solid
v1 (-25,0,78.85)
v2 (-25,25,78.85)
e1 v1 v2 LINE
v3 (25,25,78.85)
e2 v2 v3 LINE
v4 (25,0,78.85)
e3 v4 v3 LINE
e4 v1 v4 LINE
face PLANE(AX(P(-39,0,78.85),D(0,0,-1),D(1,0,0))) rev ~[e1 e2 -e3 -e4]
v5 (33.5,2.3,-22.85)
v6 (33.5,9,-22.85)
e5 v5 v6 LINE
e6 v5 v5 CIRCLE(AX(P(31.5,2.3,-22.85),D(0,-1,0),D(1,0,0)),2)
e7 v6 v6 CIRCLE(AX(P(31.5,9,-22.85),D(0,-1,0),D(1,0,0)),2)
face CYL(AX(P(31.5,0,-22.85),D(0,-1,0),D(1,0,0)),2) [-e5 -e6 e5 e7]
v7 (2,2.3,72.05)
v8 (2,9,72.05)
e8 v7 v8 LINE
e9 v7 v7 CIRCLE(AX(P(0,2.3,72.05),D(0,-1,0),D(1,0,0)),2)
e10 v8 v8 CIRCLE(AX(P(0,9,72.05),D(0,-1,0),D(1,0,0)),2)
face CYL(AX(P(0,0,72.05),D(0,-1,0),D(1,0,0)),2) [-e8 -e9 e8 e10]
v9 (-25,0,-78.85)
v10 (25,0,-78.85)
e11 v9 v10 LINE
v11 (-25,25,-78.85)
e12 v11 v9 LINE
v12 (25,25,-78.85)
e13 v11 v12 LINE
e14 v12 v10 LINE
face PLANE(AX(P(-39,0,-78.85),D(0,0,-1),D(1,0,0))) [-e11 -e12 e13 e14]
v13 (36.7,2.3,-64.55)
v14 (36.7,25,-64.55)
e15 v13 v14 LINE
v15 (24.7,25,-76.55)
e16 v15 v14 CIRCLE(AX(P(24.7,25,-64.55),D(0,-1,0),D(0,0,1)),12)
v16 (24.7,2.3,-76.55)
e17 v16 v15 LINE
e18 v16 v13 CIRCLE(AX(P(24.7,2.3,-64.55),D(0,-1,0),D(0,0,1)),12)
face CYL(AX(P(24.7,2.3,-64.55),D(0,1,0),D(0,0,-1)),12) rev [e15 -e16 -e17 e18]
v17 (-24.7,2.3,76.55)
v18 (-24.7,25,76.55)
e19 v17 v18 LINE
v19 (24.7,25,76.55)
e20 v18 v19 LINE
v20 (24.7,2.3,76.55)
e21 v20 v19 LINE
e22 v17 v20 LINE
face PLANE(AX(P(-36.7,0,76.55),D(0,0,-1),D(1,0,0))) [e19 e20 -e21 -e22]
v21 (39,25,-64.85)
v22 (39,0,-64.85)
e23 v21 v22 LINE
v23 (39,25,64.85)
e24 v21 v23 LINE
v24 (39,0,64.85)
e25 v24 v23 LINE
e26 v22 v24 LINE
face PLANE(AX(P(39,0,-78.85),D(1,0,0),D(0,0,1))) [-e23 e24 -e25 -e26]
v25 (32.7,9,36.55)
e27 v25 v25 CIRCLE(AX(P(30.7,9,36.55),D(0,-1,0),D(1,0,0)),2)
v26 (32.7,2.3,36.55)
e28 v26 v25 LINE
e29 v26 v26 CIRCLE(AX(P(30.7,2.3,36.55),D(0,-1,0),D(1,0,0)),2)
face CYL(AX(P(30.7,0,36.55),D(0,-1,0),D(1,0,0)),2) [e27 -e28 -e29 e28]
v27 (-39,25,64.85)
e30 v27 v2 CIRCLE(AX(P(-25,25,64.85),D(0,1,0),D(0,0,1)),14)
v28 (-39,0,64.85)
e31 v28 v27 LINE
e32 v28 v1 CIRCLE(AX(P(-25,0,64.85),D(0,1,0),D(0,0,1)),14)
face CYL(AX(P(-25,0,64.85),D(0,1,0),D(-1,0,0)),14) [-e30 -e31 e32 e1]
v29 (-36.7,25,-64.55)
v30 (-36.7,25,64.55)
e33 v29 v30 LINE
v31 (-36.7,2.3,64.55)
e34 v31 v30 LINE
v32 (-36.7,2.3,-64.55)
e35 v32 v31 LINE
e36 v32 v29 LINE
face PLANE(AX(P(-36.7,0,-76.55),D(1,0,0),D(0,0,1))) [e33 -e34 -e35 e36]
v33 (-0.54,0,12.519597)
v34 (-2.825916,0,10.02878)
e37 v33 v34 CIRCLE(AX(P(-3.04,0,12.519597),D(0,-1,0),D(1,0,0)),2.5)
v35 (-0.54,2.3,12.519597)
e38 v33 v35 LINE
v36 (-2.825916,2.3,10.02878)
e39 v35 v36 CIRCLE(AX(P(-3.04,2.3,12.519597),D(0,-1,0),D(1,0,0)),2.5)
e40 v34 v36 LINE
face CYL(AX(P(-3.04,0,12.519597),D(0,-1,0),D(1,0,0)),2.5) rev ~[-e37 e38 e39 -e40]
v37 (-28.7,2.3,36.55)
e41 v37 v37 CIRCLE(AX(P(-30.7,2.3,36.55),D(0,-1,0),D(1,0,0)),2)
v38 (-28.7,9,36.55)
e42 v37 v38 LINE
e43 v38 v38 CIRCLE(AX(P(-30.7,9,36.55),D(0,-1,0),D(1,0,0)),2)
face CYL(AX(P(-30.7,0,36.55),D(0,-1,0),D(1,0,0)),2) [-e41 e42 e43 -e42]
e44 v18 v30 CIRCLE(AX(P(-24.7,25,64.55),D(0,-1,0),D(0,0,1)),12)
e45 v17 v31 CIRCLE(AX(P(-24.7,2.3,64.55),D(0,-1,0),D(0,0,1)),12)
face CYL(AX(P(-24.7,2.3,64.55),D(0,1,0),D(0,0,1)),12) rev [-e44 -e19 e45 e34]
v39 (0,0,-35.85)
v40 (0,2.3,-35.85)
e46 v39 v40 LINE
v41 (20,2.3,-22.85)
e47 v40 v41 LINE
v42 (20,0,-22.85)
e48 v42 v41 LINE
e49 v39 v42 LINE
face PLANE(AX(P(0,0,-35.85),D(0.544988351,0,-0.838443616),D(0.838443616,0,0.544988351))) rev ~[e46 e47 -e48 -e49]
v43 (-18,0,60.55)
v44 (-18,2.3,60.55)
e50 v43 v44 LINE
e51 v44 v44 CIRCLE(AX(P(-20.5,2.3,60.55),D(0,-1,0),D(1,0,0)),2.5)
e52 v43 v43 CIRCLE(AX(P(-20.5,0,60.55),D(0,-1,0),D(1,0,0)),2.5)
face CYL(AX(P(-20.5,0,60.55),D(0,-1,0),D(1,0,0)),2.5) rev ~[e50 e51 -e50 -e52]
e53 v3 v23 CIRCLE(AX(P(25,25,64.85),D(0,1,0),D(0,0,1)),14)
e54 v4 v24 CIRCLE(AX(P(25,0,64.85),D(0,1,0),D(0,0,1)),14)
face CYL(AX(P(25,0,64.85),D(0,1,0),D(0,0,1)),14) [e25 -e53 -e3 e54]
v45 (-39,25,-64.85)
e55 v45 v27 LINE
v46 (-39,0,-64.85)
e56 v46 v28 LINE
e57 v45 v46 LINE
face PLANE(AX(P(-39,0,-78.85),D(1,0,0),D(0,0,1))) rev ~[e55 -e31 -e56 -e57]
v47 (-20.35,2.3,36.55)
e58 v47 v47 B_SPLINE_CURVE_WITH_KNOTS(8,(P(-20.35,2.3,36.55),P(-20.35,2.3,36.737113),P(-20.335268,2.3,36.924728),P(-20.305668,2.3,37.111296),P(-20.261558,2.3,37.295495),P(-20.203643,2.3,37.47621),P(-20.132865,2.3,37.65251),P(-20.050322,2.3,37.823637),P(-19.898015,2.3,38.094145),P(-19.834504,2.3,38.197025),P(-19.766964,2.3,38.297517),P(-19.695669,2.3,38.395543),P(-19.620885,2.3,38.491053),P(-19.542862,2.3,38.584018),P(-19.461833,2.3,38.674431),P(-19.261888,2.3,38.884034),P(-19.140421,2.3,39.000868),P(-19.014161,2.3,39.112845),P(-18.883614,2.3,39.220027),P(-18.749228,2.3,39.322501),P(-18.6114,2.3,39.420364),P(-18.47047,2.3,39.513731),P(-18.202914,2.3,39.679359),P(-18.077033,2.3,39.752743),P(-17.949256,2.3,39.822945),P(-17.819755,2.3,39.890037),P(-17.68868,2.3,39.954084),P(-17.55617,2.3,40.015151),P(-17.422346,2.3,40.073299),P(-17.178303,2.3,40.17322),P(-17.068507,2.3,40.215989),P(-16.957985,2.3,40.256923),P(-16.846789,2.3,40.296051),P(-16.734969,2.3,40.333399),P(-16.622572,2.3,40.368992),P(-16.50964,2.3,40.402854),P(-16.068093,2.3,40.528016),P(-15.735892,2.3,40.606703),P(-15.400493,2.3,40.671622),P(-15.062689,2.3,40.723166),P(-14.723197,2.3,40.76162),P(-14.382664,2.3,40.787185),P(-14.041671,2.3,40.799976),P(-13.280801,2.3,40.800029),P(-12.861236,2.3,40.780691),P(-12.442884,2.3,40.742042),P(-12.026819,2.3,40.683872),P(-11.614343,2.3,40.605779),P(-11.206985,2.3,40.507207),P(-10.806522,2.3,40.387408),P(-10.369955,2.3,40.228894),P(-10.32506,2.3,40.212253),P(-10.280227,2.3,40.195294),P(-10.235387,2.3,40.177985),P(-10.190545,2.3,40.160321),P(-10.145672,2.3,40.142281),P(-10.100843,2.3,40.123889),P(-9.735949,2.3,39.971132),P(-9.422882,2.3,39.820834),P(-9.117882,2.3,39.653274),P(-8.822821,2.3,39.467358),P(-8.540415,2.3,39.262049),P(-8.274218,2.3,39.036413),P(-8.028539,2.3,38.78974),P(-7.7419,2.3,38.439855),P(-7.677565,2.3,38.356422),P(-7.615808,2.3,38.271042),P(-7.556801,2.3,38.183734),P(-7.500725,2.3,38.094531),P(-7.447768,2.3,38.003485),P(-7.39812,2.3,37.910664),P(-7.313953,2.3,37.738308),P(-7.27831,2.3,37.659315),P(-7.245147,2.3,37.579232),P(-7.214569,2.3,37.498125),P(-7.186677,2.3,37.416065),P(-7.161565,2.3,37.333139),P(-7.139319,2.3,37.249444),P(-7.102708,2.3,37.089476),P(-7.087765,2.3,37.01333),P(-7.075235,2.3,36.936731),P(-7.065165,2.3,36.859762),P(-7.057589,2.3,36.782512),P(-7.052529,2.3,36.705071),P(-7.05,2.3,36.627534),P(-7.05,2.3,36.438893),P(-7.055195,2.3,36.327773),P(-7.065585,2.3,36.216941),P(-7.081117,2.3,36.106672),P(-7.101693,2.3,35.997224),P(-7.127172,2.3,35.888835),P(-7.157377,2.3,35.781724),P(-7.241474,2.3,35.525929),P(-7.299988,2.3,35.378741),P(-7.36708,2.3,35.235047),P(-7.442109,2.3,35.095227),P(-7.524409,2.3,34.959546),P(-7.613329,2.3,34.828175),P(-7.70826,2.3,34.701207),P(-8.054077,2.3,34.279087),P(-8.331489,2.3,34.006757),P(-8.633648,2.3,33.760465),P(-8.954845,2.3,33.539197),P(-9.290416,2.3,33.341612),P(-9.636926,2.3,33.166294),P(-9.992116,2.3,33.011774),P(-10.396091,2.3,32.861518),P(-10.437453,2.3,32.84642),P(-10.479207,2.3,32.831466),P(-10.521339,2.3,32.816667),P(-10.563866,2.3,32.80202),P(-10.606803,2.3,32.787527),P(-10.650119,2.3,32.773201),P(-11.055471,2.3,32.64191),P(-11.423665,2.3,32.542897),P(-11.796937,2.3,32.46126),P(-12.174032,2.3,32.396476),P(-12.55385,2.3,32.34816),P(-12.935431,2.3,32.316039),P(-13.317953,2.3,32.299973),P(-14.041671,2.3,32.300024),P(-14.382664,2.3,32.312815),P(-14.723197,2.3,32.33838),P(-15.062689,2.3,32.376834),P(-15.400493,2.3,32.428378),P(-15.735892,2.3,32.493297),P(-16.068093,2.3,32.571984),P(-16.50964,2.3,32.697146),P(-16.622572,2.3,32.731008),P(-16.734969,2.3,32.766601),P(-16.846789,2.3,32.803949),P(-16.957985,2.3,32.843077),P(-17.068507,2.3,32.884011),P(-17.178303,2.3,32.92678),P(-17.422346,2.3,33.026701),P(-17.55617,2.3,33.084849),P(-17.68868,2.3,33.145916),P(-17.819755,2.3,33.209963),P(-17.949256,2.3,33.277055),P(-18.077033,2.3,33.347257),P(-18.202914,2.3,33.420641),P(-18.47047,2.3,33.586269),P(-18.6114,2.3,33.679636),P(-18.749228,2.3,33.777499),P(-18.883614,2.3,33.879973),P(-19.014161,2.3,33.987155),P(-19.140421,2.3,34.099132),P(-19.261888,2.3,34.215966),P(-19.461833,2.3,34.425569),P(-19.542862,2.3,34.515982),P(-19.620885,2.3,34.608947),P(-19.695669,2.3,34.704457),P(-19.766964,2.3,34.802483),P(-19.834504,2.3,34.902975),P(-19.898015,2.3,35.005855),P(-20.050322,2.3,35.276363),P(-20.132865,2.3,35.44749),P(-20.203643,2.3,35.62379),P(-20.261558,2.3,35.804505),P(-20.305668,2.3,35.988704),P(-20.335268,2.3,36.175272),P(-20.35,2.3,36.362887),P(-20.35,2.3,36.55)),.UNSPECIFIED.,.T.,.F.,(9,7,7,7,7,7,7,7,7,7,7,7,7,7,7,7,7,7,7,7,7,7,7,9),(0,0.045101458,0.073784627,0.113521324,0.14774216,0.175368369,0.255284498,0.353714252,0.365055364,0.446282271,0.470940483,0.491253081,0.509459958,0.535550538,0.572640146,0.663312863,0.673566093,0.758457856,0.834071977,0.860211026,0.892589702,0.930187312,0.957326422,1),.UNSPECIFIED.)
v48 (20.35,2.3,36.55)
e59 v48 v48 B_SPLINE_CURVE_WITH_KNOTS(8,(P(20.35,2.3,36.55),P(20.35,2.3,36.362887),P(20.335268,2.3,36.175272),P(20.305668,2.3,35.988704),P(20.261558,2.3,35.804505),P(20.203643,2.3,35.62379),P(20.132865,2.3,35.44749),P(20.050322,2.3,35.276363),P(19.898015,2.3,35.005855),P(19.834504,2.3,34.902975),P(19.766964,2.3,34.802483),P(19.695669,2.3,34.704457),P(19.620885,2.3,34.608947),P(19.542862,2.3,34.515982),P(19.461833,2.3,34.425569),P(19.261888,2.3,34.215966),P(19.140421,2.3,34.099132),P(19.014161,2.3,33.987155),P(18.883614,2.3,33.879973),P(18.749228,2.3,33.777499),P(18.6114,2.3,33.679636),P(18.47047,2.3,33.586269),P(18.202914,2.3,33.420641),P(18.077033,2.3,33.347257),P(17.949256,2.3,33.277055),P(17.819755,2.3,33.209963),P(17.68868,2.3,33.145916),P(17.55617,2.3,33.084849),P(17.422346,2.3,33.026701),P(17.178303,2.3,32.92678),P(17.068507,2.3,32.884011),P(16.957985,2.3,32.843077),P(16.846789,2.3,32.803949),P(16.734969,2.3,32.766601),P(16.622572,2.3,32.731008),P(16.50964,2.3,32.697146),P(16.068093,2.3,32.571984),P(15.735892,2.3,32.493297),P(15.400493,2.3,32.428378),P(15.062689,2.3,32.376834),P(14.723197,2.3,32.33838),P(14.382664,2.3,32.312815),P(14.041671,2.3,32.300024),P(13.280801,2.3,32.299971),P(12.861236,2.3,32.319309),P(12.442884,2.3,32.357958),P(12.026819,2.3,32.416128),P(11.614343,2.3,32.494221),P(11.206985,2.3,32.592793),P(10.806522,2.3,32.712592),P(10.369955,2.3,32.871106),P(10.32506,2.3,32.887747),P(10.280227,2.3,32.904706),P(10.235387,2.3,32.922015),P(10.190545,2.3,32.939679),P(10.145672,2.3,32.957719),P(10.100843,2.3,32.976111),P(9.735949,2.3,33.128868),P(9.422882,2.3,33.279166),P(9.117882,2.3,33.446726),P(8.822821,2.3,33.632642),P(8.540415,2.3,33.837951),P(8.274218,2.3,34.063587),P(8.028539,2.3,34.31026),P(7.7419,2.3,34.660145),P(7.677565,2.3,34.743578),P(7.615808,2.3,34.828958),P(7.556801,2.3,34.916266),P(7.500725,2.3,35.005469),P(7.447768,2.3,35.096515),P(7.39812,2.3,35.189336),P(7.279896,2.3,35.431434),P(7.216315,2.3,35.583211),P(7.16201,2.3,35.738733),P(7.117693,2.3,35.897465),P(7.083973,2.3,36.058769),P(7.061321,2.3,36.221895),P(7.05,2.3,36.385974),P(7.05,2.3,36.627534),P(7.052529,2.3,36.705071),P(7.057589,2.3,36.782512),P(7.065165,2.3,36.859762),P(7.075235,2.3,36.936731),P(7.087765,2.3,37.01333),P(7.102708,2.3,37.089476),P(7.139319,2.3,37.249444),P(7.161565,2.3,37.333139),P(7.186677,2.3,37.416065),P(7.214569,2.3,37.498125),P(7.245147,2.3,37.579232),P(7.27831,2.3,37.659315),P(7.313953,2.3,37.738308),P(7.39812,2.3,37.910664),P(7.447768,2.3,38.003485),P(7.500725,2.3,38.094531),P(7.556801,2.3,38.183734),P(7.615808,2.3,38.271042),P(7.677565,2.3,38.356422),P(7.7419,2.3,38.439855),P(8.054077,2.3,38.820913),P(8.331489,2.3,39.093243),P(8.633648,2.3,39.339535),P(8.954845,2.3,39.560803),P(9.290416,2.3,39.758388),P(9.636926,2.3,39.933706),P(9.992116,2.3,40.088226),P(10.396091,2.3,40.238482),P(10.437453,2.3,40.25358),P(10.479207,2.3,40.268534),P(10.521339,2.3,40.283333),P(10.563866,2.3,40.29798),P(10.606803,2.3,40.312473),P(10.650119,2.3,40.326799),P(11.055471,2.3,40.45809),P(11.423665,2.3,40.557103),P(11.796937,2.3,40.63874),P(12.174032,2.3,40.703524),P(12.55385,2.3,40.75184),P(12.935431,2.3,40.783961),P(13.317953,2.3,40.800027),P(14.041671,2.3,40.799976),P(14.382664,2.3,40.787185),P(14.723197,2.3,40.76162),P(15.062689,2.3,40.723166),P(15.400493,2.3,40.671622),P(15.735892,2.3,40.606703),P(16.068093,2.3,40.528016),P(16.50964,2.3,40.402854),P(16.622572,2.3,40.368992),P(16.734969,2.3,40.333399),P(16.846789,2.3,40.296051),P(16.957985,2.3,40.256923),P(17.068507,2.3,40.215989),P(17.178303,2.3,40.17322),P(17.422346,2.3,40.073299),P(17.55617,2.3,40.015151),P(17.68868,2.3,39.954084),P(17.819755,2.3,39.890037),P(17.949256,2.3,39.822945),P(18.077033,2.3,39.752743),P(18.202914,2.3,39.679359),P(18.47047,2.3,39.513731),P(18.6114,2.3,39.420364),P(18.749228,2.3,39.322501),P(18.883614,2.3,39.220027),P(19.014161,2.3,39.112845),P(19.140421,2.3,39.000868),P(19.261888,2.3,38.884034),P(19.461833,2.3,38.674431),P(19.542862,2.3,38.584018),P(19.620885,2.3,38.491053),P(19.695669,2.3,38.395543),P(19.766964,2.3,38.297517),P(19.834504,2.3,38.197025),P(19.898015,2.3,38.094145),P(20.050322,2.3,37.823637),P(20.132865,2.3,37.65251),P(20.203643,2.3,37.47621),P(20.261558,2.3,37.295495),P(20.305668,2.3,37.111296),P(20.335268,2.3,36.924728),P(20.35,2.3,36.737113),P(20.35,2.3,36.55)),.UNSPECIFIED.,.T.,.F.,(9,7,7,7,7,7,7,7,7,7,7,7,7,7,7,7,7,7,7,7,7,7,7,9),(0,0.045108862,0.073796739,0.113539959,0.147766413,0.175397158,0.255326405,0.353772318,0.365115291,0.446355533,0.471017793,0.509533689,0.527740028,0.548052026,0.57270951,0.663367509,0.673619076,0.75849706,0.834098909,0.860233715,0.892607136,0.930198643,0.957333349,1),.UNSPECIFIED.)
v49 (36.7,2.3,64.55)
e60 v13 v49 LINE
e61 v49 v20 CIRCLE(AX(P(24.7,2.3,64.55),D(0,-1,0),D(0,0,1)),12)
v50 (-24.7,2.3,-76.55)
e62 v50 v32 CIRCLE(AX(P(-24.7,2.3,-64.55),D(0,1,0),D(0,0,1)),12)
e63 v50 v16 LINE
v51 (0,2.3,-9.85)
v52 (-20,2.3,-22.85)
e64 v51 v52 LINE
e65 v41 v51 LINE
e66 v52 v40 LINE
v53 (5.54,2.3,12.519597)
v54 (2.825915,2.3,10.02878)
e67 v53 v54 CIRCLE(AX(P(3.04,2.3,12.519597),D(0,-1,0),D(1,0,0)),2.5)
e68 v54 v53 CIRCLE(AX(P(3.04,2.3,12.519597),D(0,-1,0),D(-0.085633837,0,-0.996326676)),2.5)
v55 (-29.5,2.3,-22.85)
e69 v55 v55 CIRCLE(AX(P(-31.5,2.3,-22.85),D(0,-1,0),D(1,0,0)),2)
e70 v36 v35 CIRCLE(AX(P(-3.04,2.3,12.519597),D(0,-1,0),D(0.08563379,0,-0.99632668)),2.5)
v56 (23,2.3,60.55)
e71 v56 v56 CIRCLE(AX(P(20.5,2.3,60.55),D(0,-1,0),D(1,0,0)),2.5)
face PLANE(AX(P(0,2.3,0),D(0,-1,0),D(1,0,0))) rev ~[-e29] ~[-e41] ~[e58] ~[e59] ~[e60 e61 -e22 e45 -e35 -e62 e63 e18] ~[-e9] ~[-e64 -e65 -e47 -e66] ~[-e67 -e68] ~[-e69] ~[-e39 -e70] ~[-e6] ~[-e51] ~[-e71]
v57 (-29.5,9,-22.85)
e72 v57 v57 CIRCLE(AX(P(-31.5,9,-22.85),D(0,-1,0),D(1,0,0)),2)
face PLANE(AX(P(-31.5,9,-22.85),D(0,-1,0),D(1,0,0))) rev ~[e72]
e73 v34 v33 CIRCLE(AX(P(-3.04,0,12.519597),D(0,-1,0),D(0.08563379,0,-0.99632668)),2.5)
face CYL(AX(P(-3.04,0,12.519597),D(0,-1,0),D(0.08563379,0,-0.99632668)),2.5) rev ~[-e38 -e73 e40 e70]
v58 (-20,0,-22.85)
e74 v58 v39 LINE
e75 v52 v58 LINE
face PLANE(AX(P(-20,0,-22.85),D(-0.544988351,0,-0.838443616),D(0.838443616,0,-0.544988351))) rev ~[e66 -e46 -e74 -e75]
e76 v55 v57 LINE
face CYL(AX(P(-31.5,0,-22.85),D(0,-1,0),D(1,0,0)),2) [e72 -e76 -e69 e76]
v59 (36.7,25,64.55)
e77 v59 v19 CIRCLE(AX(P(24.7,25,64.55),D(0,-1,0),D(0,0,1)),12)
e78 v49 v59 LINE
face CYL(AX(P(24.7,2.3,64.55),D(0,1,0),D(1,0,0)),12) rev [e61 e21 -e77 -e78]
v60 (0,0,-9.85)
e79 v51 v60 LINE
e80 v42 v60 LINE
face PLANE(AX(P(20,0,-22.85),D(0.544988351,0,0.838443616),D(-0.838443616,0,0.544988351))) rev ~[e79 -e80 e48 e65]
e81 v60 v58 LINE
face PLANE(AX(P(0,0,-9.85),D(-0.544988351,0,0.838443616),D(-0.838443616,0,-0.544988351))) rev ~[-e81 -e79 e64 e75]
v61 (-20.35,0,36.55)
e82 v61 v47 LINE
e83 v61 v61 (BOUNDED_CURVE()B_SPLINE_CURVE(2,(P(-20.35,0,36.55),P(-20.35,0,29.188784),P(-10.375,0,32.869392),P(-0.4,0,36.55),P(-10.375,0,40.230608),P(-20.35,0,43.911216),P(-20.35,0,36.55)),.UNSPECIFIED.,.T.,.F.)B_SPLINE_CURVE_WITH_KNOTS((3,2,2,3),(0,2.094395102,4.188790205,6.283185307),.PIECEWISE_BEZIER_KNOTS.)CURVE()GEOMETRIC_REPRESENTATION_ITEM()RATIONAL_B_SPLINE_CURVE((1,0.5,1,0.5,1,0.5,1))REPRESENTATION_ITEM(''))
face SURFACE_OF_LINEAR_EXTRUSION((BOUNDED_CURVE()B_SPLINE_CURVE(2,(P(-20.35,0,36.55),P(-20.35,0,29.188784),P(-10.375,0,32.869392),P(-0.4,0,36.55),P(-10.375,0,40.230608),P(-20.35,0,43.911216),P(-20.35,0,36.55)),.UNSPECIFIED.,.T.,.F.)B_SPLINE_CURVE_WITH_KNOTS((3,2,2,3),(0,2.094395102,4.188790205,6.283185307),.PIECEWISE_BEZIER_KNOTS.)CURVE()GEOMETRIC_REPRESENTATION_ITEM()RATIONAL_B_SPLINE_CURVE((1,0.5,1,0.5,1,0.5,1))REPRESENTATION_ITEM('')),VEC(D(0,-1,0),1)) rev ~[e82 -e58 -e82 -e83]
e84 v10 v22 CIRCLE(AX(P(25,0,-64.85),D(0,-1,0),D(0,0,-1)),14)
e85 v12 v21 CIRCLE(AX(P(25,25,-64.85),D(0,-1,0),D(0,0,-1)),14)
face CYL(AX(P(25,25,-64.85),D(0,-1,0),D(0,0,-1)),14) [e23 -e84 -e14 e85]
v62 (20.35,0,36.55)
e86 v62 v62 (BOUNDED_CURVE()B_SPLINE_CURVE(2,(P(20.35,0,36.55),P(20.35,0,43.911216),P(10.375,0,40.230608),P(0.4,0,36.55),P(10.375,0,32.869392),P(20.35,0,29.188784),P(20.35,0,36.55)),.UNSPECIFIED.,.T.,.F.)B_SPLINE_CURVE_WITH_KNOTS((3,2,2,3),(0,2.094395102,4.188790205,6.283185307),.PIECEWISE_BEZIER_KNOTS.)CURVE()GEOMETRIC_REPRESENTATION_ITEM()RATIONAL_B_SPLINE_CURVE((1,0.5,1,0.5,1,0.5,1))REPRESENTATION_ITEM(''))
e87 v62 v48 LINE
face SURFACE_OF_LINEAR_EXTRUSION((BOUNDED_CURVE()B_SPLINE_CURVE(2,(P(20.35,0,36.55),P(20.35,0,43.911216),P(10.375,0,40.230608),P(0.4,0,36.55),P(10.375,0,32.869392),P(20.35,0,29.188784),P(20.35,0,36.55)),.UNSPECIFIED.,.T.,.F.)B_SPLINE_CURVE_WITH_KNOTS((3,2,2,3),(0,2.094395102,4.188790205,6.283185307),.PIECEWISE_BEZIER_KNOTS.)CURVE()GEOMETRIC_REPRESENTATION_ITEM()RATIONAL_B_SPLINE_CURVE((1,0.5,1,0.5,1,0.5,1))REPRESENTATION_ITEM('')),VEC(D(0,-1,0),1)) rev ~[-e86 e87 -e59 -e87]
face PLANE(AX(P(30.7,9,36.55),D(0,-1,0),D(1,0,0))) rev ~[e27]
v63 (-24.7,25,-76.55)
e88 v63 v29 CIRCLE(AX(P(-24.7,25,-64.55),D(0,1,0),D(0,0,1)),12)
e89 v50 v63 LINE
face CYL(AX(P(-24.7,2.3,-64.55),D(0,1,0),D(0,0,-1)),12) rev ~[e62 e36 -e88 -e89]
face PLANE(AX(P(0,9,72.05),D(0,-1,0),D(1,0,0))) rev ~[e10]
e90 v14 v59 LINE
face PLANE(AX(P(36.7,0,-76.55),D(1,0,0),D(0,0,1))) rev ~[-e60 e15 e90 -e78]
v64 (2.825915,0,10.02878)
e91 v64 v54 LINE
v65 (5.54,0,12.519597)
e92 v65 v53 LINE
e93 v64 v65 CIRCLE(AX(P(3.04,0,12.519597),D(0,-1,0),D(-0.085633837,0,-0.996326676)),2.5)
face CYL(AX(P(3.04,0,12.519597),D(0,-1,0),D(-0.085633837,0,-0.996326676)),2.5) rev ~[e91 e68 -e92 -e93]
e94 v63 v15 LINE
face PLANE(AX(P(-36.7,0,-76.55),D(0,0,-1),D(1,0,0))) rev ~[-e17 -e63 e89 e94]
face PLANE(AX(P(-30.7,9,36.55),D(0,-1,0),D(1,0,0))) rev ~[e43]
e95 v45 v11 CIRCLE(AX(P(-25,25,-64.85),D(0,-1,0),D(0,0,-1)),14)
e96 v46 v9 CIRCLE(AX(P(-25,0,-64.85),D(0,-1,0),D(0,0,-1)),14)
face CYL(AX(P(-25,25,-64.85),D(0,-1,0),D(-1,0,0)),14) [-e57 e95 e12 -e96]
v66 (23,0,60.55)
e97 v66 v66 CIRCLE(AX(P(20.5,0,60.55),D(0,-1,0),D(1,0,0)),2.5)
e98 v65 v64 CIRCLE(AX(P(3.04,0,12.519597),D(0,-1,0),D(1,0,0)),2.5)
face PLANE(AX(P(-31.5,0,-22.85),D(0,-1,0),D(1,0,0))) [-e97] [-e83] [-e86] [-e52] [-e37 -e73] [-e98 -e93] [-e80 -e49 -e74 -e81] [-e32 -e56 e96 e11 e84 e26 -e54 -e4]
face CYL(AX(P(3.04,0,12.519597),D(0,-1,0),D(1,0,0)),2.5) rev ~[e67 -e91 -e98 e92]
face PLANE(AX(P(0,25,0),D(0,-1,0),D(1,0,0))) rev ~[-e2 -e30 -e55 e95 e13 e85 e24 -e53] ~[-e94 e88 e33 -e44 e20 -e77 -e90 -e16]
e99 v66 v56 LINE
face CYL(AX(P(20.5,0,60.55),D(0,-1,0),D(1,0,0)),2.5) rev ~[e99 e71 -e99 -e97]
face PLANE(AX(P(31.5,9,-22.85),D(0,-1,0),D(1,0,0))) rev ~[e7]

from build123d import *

# Parameters (mm, degrees)
F0_W     = 78
F0_H     = 157.7
F0_W_2   = 73.4
F0_H_2   = 153.1
F0_R     = 2
F0_R_2   = 2.5
F1_DEPTH = 2.3
F2_DEPTH = 9
F3_DEPTH = 7.5
F4_DEPTH = 25
F5_R     = 12
F6_R     = 14


with BuildPart() as f1:
    # F0 (on Front) → F1 (new body)
    with BuildSketch(Plane.XZ):
        Rectangle(F0_W, F0_H)
        Rectangle(F0_W_2, F0_H_2, mode=Mode.SUBTRACT)
        Rectangle(F0_W_2, F0_H_2)
        with Locations((-31.5, -22.85)):
            Circle(F0_R, mode=Mode.SUBTRACT)
        Polygon((-20, -22.85), (0, -9.85), (20, -22.85), (0, -35.85), align=None, mode=Mode.SUBTRACT)
        with Locations((31.5, -22.85)):
            Circle(F0_R, mode=Mode.SUBTRACT)
        with Locations((-30.7, 36.55)):
            Circle(F0_R, mode=Mode.SUBTRACT)
        with BuildLine():
            add(Edge.make_bspline(
                [(-20.35, 36.55), (-20.35, 29.1887840678), (-10.375, 32.8693920339), (-0.4, 36.55), (-10.375, 40.2306079661), (-20.35, 43.9112159322), (-20.35, 36.55)],
                knots=[0, 0, 0, 2.0943951024, 2.0943951024, 4.1887902048, 4.1887902048, 6.2831853072, 6.2831853072, 6.2831853072], degree=2, weights=[1, 0.5, 1, 0.5, 1, 0.5, 1]))
        make_face(mode=Mode.SUBTRACT)
        with Locations((-20.5, 60.55)):
            Circle(F0_R_2, mode=Mode.SUBTRACT)
        with BuildLine():
            ThreePointArc((2.8259154066, 10.0287804232), (1.4142570551, 10.119681178), (0, 10.15))
            ThreePointArc((0, 10.15), (-1.4142571139, 10.1196811755), (-2.825915524, 10.0287804131))
            ThreePointArc((-2.825915524, 10.0287804131), (-5.6846492436, 9.656687973), (-8.5, 9.036517527))
            Line((-8.5, 9.036517527), (0, 26.15))
            Line((0, 26.15), (8.5, 9.036517527))
            ThreePointArc((8.5, 9.036517527), (5.6846491856, 9.6566879832), (2.8259154066, 10.0287804232))
        make_face(mode=Mode.SUBTRACT)
        with BuildLine():
            add(Edge.make_bspline(
                [(20.35, 36.55), (20.35, 43.9112159322), (10.375, 40.2306079661), (0.4, 36.55), (10.375, 32.8693920339), (20.35, 29.1887840678), (20.35, 36.55)],
                knots=[0, 0, 0, 2.0943951024, 2.0943951024, 4.1887902048, 4.1887902048, 6.2831853072, 6.2831853072, 6.2831853072], degree=2, weights=[1, 0.5, 1, 0.5, 1, 0.5, 1]))
        make_face(mode=Mode.SUBTRACT)
        with Locations((30.7, 36.55)):
            Circle(F0_R, mode=Mode.SUBTRACT)
        with Locations((0, 72.05)):
            Circle(F0_R, mode=Mode.SUBTRACT)
        with Locations((20.5, 60.55)):
            Circle(F0_R_2, mode=Mode.SUBTRACT)
        Polygon((20, -22.85), (0, -9.85), (-20, -22.85), (0, -35.85), align=None)
        with BuildLine():
            ThreePointArc((-2.825915524, 10.0287804131), (-1.4142571139, 10.1196811755), (0, 10.15))
            ThreePointArc((0, 10.15), (1.4142570551, 10.119681178), (2.8259154066, 10.0287804232))
            ThreePointArc((2.8259154066, 10.0287804232), (5.6846491856, 9.6566879832), (8.5, 9.036517527))
            Line((8.5, 9.036517527), (0, 26.15))
            Line((0, 26.15), (-8.5, 9.036517527))
            ThreePointArc((-8.5, 9.036517527), (-5.6846492436, 9.656687973), (-2.825915524, 10.0287804131))
        make_face()
        with BuildLine():
            ThreePointArc((-0.54, 12.5195971139), (-1.1980972895, 10.8292141972), (-2.825915524, 10.0287804131))
            ThreePointArc((-2.825915524, 10.0287804131), (-4.8819027105, 14.2099800306), (-0.54, 12.5195971139))
        make_face(mode=Mode.SUBTRACT)
        with BuildLine():
            ThreePointArc((5.54, 12.5195971139), (4.7303828733, 10.6776943636), (2.8259154066, 10.0287804232))
            ThreePointArc((2.8259154066, 10.0287804232), (1.3496171267, 14.3614998642), (5.54, 12.5195971139))
        make_face(mode=Mode.SUBTRACT)
        with BuildLine():
            add(Edge.make_bspline(
                [(-20.35, 36.55), (-20.35, 29.1887840678), (-10.375, 32.8693920339), (-0.4, 36.55), (-10.375, 40.2306079661), (-20.35, 43.9112159322), (-20.35, 36.55)],
                knots=[0, 0, 0, 2.0943951024, 2.0943951024, 4.1887902048, 4.1887902048, 6.2831853072, 6.2831853072, 6.2831853072], degree=2, weights=[1, 0.5, 1, 0.5, 1, 0.5, 1]))
        make_face()
        with BuildLine():
            add(Edge.make_bspline(
                [(20.35, 36.55), (20.35, 43.9112159322), (10.375, 40.2306079661), (0.4, 36.55), (10.375, 32.8693920339), (20.35, 29.1887840678), (20.35, 36.55)],
                knots=[0, 0, 0, 2.0943951024, 2.0943951024, 4.1887902048, 4.1887902048, 6.2831853072, 6.2831853072, 6.2831853072], degree=2, weights=[1, 0.5, 1, 0.5, 1, 0.5, 1]))
        make_face()
        with Locations((-20.5, 60.55)):
            Circle(F0_R_2)
        with Locations((20.5, 60.55)):
            Circle(F0_R_2)
        with BuildLine():
            ThreePointArc((-0.54, 12.5195971139), (-4.8819027105, 14.2099800306), (-2.825915524, 10.0287804131))
            ThreePointArc((-2.825915524, 10.0287804131), (-1.1980972895, 10.8292141972), (-0.54, 12.5195971139))
        make_face()
        with BuildLine():
            ThreePointArc((5.54, 12.5195971139), (1.3496171267, 14.3614998642), (2.8259154066, 10.0287804232))
            ThreePointArc((2.8259154066, 10.0287804232), (4.7303828733, 10.6776943636), (5.54, 12.5195971139))
        make_face()
        with Locations((0, 72.05)):
            Circle(F0_R)
        with Locations((30.7, 36.55)):
            Circle(F0_R)
        with Locations((-30.7, 36.55)):
            Circle(F0_R)
        with Locations((-31.5, -22.85)):
            Circle(F0_R)
        with Locations((31.5, -22.85)):
            Circle(F0_R)
    extrude(amount=-F1_DEPTH)

    # F0 (on Front) → F2 (join)
    with BuildSketch(Plane.XZ):
        with Locations((-31.5, -22.85)):
            Circle(F0_R)
        with Locations((31.5, -22.85)):
            Circle(F0_R)
        with Locations((-30.7, 36.55)):
            Circle(F0_R)
        with Locations((30.7, 36.55)):
            Circle(F0_R)
        with Locations((0, 72.05)):
            Circle(F0_R)
    extrude(amount=-F2_DEPTH)

    # F0 (on Front) → F3 (cut, symmetric)
    with BuildSketch(Plane.XZ):
        with BuildLine():
            ThreePointArc((-0.54, 12.5195971139), (-4.8819027105, 14.2099800306), (-2.825915524, 10.0287804131))
            ThreePointArc((-2.825915524, 10.0287804131), (-1.1980972895, 10.8292141972), (-0.54, 12.5195971139))
        make_face()
        with BuildLine():
            ThreePointArc((5.54, 12.5195971139), (1.3496171267, 14.3614998642), (2.8259154066, 10.0287804232))
            ThreePointArc((2.8259154066, 10.0287804232), (4.7303828733, 10.6776943636), (5.54, 12.5195971139))
        make_face()
        with Locations((-20.5, 60.55)):
            Circle(F0_R_2)
        with Locations((20.5, 60.55)):
            Circle(F0_R_2)
        with BuildLine():
            add(Edge.make_bspline(
                [(-20.35, 36.55), (-20.35, 29.1887840678), (-10.375, 32.8693920339), (-0.4, 36.55), (-10.375, 40.2306079661), (-20.35, 43.9112159322), (-20.35, 36.55)],
                knots=[0, 0, 0, 2.0943951024, 2.0943951024, 4.1887902048, 4.1887902048, 6.2831853072, 6.2831853072, 6.2831853072], degree=2, weights=[1, 0.5, 1, 0.5, 1, 0.5, 1]))
        make_face()
        with BuildLine():
            add(Edge.make_bspline(
                [(20.35, 36.55), (20.35, 43.9112159322), (10.375, 40.2306079661), (0.4, 36.55), (10.375, 32.8693920339), (20.35, 29.1887840678), (20.35, 36.55)],
                knots=[0, 0, 0, 2.0943951024, 2.0943951024, 4.1887902048, 4.1887902048, 6.2831853072, 6.2831853072, 6.2831853072], degree=2, weights=[1, 0.5, 1, 0.5, 1, 0.5, 1]))
        make_face()
        Polygon((20, -22.85), (0, -9.85), (-20, -22.85), (0, -35.85), align=None)
    extrude(amount=F3_DEPTH, both=True, mode=Mode.SUBTRACT)

    # F0 (on Front) → F4 (join)
    with BuildSketch(Plane.XZ):
        Rectangle(F0_W, F0_H)
        Rectangle(F0_W_2, F0_H_2, mode=Mode.SUBTRACT)
    extrude(amount=-F4_DEPTH)

    # F5
    f5_edges = [f1.edges().sort_by_distance(p)[0] for p in [
        (36.7, 13.65, 76.55),
        (-36.7, 13.65, 76.55),
        (36.7, 13.65, -76.55),
        (-36.7, 13.65, -76.55),
    ]]
    fillet(f5_edges, radius=F5_R)

    # F6
    f6_edges = [f1.edges().sort_by_distance(p)[0] for p in [
        (39, 12.5, -78.85),
        (-39, 12.5, -78.85),
        (-39, 12.5, 78.85),
        (39, 12.5, 78.85),
    ]]
    fillet(f6_edges, radius=F6_R)


solid = f1.part
